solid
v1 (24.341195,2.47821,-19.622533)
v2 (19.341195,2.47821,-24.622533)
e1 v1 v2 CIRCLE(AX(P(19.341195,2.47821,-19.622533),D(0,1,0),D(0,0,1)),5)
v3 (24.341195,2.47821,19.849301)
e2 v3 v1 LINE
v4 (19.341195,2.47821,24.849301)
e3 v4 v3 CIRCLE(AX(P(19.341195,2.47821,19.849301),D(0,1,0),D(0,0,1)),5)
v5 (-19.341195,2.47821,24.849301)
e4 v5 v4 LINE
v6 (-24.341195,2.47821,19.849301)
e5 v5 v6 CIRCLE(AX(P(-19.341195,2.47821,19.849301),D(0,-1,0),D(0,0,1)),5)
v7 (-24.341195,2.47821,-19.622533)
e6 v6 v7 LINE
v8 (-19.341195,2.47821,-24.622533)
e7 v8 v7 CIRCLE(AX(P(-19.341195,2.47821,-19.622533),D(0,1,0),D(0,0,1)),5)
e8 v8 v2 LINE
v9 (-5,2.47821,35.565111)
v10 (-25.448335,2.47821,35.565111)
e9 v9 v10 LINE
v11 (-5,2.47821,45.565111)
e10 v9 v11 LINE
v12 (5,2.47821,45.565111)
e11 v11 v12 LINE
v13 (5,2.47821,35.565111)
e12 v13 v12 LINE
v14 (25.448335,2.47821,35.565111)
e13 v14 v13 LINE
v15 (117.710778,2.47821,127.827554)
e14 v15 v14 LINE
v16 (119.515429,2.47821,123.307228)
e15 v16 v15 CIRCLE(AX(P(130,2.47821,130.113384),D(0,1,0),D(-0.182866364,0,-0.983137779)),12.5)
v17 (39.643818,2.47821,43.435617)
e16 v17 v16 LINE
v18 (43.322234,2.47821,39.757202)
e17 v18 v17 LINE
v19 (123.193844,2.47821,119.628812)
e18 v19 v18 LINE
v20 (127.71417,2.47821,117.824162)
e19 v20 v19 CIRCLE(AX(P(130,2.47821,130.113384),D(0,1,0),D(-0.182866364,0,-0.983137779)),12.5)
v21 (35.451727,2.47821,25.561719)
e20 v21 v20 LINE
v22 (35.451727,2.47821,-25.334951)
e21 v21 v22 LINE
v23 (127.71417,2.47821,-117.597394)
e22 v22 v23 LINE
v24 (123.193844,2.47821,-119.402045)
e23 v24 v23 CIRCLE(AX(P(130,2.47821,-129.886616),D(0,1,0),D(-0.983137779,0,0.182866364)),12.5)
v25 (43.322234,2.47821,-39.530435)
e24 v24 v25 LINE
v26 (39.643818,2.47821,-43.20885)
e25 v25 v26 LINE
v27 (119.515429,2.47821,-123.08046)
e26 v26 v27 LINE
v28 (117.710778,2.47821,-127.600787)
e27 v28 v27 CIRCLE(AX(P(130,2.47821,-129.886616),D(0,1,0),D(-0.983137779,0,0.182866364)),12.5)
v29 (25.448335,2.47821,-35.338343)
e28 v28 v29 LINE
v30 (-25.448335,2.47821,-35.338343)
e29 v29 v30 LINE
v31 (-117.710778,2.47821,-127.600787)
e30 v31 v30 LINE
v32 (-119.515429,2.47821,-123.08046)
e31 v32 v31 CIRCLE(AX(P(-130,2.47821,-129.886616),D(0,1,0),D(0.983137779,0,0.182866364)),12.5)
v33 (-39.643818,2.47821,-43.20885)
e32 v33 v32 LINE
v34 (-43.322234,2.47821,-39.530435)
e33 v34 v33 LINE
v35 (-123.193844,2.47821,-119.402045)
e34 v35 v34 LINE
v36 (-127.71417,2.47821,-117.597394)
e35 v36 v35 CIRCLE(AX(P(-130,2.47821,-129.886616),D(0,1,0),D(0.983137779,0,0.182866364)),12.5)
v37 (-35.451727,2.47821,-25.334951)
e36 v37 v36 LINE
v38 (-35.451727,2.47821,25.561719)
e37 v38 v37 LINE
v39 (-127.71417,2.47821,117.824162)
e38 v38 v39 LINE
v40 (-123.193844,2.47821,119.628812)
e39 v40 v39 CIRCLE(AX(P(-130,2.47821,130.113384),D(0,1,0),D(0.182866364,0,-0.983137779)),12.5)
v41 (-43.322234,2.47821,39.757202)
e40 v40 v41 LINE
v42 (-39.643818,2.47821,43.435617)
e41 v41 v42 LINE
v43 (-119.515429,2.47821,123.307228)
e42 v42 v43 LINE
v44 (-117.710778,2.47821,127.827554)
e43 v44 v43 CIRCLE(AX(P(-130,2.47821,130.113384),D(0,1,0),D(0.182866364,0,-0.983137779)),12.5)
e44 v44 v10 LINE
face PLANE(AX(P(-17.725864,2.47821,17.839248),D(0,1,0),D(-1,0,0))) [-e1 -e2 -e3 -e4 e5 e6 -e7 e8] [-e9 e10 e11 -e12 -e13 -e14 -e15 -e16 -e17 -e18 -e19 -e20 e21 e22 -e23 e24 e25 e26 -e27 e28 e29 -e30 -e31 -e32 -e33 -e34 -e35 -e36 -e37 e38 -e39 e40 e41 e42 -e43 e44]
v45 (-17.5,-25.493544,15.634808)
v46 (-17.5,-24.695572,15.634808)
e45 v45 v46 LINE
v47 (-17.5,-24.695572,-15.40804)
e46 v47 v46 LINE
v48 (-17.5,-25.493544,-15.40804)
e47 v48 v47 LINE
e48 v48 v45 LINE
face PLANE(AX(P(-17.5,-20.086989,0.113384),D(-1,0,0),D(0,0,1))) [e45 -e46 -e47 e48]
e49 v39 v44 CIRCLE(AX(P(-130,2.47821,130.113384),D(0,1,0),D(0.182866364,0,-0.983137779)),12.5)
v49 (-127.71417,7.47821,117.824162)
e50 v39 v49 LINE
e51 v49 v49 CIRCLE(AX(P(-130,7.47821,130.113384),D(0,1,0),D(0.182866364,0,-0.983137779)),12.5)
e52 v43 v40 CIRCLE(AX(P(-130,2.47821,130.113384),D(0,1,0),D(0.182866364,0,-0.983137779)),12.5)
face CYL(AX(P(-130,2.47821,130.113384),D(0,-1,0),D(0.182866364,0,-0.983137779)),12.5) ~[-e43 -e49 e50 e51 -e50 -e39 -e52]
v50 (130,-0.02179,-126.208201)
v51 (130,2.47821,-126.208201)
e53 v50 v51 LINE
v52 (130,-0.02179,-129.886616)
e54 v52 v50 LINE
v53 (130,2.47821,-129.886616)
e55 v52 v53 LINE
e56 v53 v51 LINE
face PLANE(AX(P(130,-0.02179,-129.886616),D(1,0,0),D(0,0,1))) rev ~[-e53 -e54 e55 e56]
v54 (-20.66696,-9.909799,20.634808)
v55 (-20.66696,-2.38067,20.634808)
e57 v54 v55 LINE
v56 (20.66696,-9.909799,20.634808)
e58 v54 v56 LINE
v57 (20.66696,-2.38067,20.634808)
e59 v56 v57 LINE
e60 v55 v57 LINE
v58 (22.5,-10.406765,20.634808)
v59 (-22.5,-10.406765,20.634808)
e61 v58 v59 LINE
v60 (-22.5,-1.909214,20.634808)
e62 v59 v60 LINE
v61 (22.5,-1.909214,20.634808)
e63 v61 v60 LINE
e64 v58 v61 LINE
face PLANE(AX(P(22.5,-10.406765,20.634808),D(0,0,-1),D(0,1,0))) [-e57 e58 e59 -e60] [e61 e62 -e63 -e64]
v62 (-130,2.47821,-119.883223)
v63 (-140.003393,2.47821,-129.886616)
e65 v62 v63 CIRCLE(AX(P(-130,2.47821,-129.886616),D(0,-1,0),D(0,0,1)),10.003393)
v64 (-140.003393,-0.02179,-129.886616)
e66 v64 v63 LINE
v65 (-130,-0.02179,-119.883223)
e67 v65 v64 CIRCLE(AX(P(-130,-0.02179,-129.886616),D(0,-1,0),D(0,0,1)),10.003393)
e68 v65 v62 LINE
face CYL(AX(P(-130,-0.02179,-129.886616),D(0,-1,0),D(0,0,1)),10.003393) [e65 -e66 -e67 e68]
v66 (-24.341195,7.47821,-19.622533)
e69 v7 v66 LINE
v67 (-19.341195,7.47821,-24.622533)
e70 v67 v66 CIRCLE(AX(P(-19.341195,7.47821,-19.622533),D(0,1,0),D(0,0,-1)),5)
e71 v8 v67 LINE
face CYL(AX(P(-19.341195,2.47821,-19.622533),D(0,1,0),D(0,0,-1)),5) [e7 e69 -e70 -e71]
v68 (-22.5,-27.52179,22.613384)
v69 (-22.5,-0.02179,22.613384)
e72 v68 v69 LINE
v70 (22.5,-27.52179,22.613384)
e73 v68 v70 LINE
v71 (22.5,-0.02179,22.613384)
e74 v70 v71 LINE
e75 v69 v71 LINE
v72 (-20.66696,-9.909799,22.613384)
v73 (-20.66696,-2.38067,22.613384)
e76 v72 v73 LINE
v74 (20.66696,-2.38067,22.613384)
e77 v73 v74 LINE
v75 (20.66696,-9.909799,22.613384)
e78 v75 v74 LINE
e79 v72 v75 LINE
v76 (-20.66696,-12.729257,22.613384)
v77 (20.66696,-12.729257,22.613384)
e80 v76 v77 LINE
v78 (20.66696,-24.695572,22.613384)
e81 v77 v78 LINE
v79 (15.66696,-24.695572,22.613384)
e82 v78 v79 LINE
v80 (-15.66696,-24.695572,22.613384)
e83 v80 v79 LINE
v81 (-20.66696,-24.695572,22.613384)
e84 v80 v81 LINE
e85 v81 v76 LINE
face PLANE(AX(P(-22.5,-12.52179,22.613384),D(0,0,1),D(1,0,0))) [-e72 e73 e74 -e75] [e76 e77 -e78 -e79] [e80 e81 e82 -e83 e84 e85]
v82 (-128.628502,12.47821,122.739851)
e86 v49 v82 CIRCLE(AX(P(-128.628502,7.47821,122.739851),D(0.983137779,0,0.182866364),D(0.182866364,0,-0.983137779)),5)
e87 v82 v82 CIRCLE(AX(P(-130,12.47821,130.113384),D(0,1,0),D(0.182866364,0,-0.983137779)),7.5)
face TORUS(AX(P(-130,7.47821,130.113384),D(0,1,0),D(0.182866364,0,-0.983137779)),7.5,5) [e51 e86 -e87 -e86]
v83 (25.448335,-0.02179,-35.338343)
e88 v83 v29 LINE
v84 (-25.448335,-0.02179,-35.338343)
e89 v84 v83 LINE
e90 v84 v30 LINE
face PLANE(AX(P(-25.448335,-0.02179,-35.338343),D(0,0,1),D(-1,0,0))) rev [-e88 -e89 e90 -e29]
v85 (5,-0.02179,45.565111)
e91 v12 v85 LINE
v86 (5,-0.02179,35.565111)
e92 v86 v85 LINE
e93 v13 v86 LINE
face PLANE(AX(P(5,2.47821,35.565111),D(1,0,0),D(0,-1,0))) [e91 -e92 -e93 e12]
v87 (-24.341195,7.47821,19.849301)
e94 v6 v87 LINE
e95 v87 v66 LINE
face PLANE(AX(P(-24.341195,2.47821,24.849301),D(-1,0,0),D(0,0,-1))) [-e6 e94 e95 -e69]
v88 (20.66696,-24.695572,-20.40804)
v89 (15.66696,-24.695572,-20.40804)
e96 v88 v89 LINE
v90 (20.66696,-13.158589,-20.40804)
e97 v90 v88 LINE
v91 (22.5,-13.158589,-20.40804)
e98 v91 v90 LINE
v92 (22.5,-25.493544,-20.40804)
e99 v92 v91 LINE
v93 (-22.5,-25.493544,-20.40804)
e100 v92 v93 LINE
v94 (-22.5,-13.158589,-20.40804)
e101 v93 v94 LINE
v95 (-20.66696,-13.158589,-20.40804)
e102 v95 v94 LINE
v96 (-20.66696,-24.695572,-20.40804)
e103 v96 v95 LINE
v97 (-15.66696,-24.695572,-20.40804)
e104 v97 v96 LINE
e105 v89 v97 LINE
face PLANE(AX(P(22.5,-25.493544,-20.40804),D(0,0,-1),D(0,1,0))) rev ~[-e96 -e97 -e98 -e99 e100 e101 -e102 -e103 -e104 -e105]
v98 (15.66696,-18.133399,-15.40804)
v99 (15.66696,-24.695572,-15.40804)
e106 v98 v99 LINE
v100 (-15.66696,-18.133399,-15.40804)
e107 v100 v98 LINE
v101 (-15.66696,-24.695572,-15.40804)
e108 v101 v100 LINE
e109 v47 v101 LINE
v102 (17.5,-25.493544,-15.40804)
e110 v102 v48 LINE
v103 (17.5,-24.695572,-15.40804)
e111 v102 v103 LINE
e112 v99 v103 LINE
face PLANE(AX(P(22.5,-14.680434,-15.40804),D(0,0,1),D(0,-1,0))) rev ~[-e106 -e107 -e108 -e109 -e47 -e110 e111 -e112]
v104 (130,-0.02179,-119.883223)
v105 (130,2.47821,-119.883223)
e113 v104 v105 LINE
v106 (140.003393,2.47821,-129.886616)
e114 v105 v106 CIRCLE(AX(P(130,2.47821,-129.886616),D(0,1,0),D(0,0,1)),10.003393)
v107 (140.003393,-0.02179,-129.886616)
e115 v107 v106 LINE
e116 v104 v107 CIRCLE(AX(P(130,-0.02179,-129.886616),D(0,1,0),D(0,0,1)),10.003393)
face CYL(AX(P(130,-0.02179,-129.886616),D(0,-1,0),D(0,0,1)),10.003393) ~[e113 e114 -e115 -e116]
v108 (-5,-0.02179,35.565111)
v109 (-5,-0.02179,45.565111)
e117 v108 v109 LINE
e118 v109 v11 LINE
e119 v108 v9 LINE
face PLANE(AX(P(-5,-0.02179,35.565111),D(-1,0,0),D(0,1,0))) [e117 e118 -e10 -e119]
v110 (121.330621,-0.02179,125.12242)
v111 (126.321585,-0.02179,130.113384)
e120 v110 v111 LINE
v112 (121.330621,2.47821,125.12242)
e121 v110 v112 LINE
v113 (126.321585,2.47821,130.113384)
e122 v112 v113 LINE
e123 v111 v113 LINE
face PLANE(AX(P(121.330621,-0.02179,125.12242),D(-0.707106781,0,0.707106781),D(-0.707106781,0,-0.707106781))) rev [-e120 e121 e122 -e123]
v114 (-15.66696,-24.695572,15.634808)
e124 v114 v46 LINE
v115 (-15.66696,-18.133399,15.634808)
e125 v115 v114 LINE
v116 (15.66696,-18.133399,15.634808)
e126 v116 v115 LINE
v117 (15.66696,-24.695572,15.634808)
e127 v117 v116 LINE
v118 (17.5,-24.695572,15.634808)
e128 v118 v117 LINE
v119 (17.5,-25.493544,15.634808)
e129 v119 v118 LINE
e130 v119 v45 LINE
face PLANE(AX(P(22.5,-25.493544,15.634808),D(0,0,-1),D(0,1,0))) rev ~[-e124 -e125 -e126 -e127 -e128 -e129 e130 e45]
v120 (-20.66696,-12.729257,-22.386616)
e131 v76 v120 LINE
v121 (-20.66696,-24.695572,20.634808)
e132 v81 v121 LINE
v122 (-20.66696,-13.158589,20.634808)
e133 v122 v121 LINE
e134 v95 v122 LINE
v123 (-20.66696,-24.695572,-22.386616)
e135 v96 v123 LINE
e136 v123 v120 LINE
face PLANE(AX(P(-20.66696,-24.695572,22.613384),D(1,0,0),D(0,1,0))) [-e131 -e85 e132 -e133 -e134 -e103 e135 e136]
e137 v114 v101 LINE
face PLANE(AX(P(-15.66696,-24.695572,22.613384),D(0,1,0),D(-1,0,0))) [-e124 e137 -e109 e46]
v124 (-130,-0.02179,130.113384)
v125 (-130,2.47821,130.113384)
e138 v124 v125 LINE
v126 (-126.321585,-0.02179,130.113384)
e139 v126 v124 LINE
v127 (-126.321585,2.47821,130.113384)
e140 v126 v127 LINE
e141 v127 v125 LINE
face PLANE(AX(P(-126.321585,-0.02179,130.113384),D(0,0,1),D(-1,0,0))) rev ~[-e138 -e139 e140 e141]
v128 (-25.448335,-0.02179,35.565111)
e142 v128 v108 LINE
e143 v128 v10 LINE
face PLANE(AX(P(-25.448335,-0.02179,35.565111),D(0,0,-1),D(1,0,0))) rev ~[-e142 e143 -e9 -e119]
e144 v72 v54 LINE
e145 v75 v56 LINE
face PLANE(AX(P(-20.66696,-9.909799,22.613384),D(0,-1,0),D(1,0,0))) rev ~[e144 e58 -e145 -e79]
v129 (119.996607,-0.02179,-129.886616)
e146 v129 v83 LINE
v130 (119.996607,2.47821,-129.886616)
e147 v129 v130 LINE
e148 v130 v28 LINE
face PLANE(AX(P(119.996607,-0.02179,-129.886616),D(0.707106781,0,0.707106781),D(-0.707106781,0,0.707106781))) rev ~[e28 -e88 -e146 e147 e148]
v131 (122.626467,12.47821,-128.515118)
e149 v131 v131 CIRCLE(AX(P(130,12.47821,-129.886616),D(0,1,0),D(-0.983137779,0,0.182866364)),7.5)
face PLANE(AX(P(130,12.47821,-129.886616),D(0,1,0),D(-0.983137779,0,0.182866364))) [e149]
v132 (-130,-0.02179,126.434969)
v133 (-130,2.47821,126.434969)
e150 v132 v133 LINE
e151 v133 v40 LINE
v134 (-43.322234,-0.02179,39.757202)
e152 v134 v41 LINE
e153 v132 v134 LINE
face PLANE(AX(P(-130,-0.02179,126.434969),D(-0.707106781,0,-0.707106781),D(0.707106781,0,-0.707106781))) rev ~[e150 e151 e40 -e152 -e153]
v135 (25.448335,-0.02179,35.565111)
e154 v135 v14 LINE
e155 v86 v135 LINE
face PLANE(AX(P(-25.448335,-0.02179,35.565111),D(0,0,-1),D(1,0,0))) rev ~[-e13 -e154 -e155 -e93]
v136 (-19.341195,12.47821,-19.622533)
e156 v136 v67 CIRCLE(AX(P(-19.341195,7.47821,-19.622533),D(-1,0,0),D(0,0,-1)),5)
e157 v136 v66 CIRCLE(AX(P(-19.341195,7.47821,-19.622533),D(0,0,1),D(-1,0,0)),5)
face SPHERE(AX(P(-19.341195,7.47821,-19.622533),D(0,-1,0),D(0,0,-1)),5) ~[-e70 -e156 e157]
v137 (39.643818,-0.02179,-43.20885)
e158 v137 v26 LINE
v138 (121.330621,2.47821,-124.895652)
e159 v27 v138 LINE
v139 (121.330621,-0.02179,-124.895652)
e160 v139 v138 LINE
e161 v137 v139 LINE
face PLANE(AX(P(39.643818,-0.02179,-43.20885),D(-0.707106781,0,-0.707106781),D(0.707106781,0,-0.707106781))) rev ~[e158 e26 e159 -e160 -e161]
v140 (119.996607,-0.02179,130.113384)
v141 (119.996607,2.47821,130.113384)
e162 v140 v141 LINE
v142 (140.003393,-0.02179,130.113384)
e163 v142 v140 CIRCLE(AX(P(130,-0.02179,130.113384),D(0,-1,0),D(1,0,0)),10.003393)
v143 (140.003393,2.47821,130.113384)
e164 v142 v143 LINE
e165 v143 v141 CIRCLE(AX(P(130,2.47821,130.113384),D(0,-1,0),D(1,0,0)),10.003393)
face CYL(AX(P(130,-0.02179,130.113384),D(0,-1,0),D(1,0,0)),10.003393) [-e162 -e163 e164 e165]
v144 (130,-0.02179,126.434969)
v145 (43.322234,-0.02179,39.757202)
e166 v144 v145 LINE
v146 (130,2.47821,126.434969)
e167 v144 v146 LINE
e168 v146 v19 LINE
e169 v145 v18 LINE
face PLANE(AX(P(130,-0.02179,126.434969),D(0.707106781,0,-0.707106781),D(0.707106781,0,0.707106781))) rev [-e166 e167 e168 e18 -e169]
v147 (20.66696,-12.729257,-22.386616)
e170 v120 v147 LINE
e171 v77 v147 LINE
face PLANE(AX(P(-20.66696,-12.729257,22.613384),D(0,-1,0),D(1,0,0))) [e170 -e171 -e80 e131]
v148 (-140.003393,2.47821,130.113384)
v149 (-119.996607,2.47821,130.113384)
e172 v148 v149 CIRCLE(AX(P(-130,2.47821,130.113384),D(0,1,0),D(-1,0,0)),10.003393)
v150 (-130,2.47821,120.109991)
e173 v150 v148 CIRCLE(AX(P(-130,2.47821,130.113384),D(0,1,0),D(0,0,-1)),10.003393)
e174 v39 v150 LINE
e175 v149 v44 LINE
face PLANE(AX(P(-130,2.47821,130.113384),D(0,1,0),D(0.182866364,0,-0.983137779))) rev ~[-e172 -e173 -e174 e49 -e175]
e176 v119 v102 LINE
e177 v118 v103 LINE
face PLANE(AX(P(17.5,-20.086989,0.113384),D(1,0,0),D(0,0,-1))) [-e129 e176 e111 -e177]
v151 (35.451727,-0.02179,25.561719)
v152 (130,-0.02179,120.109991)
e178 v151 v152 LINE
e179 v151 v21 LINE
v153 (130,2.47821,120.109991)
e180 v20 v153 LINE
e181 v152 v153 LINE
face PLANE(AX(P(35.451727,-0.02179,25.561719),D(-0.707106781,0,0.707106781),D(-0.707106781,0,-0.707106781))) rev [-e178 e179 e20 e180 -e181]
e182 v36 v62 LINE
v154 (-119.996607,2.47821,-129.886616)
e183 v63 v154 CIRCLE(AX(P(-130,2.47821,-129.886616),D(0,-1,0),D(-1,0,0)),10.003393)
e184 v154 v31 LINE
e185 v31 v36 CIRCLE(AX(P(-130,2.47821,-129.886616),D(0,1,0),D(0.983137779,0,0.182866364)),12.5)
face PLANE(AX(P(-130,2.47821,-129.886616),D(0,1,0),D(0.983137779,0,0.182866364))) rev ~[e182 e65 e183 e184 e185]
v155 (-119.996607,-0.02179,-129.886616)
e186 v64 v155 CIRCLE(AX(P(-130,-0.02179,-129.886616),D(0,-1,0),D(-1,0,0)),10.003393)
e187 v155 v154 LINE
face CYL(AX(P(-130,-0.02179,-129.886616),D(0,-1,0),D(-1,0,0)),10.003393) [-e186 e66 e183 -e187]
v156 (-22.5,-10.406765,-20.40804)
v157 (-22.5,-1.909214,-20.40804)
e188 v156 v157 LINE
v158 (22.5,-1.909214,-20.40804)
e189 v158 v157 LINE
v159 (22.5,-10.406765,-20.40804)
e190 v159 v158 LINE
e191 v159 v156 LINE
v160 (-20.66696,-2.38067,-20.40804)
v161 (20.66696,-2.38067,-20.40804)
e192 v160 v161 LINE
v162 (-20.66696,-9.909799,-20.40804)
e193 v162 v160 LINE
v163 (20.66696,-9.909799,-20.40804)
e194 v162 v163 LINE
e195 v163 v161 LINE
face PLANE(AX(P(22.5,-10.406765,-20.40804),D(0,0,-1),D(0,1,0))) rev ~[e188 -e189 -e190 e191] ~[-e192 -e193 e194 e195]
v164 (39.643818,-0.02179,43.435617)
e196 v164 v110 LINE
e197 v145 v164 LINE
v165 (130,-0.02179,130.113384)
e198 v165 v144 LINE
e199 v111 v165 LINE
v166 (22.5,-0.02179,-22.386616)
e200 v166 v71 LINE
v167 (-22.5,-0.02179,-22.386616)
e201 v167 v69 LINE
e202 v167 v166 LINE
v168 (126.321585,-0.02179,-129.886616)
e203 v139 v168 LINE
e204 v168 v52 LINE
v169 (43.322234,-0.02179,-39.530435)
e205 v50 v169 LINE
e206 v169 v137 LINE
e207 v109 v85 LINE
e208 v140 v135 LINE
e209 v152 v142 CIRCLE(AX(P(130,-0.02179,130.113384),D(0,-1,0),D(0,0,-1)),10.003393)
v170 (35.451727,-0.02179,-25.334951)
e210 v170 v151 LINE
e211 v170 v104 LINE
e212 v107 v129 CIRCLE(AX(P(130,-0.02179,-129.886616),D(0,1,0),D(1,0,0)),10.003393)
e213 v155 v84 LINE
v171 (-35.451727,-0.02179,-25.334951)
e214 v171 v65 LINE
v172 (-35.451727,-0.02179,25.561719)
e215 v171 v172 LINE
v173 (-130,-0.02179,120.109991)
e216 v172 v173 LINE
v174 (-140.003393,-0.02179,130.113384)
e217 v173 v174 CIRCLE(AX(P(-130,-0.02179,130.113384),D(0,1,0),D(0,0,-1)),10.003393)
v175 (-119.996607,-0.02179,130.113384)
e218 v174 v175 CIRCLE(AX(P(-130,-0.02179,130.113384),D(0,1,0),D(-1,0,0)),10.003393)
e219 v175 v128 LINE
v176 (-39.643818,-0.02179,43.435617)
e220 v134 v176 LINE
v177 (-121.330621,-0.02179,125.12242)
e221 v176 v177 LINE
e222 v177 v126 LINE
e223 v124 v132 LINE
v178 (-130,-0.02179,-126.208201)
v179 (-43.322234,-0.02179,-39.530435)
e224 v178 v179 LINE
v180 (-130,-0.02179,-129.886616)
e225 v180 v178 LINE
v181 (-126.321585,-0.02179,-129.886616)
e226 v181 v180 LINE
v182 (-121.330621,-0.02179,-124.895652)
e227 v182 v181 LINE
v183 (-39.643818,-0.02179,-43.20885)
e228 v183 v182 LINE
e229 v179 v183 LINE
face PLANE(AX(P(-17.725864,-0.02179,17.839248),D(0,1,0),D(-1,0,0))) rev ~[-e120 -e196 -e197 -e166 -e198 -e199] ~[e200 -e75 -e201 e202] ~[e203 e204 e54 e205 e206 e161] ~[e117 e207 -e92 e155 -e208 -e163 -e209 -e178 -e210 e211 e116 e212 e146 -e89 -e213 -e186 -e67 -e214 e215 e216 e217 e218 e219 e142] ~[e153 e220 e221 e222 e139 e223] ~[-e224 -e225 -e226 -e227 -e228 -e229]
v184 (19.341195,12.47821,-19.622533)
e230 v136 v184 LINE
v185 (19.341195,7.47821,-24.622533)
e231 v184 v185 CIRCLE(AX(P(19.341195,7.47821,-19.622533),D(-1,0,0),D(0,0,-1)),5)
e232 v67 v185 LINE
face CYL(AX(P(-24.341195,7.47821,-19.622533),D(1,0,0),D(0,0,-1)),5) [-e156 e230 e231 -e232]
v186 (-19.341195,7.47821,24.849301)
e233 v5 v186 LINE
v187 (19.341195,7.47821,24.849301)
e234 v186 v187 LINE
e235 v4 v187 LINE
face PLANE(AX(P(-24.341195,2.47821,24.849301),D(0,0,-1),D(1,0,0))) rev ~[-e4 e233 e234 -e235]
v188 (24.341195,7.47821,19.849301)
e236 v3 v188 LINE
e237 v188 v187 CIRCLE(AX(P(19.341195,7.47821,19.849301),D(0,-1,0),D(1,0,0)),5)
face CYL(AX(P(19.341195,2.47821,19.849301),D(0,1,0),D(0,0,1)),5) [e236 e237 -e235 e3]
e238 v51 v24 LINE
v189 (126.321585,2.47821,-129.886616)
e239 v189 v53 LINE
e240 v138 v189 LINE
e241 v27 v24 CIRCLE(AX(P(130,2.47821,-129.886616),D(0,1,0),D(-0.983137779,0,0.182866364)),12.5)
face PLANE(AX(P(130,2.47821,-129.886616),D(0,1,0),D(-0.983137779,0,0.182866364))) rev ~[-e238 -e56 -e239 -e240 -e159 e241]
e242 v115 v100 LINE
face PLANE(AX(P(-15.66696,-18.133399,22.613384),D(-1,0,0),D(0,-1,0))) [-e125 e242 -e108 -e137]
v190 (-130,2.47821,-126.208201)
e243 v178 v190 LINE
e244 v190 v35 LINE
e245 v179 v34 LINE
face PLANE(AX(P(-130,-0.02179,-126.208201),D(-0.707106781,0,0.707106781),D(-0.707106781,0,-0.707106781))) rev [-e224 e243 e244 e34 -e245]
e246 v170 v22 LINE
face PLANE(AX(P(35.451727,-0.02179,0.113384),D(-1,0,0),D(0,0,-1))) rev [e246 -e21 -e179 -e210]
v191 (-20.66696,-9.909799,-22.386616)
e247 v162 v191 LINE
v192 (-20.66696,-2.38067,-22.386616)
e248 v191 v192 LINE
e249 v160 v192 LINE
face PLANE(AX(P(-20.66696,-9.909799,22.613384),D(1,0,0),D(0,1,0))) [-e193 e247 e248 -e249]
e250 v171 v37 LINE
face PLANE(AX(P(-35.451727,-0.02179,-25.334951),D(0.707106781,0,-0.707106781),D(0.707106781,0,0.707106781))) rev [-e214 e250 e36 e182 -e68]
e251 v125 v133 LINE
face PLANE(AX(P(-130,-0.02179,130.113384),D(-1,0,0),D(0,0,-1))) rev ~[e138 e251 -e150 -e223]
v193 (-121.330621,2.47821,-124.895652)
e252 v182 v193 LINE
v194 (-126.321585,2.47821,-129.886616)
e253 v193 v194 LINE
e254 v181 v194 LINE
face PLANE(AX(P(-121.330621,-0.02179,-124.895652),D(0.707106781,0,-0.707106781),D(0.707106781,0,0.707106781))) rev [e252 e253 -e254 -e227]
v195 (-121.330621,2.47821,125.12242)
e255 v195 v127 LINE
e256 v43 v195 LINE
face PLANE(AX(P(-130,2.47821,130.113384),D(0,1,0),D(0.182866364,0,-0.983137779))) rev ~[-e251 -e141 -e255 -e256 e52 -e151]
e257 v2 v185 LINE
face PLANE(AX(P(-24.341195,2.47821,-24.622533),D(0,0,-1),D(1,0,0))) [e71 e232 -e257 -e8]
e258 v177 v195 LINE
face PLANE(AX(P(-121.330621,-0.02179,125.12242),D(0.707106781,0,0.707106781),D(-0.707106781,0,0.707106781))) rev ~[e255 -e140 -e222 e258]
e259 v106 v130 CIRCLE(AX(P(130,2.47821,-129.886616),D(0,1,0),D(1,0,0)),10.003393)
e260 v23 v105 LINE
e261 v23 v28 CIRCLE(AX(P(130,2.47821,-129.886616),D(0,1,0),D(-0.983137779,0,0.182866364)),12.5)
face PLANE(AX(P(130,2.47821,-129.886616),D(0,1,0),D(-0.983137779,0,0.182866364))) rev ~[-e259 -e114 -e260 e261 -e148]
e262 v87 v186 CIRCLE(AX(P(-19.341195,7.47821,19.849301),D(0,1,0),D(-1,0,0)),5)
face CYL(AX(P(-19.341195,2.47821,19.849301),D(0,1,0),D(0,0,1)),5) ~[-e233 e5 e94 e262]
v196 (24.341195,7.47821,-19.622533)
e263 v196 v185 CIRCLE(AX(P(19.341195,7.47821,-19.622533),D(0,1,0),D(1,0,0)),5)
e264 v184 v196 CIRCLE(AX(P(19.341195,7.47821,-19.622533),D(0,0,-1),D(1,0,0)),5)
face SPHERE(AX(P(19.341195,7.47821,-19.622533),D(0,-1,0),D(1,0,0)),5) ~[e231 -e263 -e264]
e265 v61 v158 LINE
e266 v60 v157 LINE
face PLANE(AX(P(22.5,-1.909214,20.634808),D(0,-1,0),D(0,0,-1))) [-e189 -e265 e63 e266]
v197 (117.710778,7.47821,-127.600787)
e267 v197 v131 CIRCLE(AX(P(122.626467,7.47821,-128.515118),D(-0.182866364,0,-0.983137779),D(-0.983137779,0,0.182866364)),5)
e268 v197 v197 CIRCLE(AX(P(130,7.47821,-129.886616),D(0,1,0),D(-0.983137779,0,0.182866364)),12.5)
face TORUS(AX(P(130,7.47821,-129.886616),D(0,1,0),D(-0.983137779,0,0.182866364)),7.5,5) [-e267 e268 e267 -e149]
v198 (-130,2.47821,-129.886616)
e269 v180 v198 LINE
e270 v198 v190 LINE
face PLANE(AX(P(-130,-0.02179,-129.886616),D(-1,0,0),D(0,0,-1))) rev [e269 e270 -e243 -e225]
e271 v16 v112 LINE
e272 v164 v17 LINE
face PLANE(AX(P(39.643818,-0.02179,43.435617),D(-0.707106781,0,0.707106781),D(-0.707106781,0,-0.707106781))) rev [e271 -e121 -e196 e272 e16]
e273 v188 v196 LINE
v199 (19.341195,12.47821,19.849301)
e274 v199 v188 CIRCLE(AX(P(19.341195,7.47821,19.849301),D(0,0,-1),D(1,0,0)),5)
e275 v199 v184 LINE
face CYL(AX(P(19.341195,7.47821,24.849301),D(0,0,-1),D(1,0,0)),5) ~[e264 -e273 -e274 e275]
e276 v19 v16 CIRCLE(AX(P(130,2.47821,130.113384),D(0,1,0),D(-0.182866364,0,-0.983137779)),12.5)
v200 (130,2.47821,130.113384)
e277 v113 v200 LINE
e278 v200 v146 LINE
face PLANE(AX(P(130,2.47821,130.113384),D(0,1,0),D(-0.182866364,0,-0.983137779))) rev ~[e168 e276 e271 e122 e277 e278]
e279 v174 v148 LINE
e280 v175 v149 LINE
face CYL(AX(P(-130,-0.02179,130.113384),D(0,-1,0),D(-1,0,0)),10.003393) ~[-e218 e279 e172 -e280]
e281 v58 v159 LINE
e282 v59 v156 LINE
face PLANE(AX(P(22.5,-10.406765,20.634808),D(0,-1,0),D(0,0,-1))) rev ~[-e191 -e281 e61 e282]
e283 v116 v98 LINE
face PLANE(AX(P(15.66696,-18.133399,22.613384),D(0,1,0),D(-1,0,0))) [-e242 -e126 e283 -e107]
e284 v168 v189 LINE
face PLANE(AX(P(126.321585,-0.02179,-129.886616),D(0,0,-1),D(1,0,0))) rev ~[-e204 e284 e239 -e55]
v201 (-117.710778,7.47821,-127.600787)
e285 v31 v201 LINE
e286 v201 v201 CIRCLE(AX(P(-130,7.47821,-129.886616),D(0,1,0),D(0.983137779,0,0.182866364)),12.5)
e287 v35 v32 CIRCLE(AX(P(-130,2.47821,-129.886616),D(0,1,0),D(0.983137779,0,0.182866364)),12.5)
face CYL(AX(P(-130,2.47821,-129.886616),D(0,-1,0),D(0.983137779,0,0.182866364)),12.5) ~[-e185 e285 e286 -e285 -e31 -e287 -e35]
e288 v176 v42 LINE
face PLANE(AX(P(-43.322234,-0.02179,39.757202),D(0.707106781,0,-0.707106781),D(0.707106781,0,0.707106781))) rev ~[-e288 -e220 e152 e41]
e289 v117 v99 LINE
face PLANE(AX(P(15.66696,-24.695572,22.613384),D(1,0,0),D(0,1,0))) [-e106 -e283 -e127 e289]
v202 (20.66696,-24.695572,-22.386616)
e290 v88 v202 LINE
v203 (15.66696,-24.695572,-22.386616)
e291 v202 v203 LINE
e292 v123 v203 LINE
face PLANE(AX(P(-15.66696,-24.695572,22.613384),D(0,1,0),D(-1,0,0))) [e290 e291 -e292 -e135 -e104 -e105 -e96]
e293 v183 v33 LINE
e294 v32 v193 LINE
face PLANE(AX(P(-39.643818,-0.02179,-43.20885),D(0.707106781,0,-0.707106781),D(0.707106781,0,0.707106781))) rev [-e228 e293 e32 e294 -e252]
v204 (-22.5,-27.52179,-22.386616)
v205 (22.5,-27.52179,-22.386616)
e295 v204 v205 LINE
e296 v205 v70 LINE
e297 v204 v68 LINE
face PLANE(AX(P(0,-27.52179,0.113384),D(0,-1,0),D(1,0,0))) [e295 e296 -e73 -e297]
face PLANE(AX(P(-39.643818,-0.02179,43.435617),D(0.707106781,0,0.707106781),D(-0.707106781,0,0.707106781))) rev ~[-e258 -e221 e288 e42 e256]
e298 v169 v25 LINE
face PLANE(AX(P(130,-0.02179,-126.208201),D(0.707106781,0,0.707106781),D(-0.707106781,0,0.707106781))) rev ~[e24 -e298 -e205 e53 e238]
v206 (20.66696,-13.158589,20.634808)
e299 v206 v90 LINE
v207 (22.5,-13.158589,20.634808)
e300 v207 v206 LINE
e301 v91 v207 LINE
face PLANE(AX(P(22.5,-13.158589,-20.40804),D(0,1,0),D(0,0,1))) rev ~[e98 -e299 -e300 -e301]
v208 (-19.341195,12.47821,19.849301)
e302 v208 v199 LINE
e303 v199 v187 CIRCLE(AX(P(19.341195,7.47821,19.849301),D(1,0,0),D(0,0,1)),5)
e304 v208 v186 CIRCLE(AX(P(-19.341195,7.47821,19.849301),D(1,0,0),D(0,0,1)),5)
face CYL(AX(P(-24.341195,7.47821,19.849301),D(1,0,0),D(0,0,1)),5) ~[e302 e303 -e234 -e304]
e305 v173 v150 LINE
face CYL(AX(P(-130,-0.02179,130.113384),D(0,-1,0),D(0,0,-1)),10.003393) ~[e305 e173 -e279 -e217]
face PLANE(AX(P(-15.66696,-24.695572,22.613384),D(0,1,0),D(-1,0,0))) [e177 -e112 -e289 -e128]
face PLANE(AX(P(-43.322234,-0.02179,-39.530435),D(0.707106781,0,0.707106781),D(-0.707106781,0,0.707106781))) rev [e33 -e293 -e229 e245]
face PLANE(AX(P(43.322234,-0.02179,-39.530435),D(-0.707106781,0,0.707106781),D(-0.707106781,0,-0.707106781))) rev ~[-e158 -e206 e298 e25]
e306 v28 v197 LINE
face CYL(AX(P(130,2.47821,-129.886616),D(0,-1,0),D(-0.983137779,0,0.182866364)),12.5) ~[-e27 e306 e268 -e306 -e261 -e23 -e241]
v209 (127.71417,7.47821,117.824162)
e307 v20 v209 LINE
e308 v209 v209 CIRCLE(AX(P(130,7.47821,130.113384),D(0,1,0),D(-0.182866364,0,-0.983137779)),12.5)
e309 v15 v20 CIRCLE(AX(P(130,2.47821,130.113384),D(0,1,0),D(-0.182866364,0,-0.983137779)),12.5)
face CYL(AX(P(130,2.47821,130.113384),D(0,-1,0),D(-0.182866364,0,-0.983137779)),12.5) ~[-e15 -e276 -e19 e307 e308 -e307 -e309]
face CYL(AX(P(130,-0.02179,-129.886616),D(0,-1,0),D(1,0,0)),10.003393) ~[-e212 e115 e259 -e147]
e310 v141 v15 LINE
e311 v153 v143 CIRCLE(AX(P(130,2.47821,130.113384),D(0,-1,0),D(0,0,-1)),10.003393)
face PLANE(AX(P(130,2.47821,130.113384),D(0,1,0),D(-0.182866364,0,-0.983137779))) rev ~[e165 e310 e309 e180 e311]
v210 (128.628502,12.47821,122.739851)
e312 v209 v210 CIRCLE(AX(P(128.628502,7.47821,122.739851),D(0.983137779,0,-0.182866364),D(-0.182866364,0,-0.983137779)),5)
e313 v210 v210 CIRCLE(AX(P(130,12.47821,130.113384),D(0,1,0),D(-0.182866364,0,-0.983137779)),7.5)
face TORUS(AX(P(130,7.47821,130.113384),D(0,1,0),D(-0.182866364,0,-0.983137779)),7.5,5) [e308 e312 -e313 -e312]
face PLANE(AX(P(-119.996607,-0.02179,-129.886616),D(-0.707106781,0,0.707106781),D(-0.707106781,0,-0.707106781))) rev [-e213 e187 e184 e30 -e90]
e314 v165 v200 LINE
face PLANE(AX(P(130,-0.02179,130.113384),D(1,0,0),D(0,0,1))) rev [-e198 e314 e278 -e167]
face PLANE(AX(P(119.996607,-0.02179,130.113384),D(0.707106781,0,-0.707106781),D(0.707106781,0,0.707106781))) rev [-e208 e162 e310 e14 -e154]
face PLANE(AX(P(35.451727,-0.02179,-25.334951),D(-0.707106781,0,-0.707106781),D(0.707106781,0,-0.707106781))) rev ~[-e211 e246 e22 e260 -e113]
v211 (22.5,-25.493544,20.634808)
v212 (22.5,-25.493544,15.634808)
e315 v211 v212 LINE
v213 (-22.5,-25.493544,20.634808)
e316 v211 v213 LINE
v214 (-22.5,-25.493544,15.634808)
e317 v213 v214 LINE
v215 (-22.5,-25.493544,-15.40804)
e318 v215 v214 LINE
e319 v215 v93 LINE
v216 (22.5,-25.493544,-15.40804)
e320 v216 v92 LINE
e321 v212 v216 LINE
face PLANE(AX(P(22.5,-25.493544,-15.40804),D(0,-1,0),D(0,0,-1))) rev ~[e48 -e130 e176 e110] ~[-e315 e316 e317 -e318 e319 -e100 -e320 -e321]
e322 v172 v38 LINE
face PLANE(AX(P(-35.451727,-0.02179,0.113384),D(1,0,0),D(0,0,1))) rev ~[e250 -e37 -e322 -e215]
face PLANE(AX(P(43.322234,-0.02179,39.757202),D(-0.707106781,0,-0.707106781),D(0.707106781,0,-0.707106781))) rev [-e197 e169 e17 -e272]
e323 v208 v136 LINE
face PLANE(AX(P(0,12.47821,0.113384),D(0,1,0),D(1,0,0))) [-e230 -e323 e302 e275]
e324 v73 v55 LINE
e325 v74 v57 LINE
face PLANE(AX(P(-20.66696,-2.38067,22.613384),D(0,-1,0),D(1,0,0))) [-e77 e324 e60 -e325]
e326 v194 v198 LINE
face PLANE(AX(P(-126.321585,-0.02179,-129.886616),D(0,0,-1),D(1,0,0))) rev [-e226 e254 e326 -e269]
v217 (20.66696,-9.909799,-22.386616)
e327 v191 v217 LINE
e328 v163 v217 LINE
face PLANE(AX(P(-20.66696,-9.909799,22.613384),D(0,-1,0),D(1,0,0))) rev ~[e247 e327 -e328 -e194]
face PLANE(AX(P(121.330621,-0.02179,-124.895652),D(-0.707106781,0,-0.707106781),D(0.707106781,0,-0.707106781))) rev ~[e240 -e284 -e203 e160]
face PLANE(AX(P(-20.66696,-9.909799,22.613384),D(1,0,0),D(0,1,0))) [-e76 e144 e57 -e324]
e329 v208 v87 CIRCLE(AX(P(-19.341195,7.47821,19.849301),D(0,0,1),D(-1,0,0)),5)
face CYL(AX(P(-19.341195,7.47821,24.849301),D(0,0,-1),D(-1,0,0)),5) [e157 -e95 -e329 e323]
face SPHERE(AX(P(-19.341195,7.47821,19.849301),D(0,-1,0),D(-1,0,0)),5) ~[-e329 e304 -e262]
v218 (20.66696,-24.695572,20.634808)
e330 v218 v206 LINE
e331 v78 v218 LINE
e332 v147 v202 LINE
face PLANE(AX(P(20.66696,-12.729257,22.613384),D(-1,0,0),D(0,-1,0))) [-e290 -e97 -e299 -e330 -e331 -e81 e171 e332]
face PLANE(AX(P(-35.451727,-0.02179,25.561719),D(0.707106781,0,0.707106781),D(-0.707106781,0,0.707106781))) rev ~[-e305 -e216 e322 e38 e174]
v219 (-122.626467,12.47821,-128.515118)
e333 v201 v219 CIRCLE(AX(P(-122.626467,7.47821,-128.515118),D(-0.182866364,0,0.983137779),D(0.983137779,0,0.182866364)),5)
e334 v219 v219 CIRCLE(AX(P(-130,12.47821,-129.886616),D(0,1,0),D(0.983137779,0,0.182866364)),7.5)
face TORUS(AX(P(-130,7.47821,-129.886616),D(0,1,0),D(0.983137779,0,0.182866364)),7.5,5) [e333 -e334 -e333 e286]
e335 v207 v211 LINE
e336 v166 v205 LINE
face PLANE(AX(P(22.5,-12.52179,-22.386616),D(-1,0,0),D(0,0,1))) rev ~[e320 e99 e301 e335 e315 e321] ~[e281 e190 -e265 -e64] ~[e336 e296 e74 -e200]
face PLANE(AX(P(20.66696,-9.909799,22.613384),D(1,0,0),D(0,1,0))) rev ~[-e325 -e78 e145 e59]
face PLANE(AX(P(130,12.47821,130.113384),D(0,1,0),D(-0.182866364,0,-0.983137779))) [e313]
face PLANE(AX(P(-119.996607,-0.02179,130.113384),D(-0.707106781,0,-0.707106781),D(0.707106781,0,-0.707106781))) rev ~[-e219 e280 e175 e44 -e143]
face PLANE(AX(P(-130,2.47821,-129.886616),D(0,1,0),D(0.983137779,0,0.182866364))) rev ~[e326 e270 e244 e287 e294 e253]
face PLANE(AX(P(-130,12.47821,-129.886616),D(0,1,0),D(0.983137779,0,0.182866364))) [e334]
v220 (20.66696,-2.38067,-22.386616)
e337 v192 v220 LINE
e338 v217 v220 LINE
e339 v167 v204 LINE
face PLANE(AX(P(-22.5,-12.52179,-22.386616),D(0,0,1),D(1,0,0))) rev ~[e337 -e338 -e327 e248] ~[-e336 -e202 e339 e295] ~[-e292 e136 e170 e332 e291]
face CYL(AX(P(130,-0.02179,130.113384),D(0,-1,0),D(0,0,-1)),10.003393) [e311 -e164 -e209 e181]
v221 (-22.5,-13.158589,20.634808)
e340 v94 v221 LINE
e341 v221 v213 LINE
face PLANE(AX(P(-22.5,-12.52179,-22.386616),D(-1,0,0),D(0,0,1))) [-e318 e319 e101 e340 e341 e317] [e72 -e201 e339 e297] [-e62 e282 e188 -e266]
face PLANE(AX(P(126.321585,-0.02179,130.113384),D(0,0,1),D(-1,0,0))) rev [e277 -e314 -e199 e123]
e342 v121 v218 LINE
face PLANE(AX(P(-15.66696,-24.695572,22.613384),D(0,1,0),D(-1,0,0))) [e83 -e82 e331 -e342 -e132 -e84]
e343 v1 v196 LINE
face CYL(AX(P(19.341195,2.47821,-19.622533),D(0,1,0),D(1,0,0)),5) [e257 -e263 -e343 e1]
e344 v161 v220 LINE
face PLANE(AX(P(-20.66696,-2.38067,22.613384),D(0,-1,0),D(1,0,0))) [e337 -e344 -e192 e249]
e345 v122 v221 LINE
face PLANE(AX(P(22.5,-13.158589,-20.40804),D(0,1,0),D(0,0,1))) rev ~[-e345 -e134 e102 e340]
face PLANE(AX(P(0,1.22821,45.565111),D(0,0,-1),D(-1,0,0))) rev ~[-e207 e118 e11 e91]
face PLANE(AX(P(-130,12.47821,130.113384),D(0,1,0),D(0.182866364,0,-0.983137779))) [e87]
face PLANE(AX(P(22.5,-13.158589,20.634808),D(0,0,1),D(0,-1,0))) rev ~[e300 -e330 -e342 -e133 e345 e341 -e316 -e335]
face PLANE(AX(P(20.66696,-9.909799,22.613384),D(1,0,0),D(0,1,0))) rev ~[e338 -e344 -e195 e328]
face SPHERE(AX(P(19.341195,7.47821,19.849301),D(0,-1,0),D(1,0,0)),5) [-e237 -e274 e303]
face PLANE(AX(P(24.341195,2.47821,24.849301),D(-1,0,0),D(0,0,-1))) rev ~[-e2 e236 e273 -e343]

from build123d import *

# Parameters (mm, degrees)
EXTRUDE_1_DEPTH     = 5
SKETCH_2_W          = 90
SKETCH_2_H          = 90
EXTRUDE_2_DEPTH     = 25
SKETCH_3_W          = 82.667839838
SKETCH_3_H          = 15.058257345
CUT_EXTRUDE_1_DEPTH = 90
SKETCH_4_W          = 82.085695662
SKETCH_4_H          = 16.995101666
CUT_EXTRUDE_2_DEPTH = 90
SKETCH_5_W          = 97.364780094
SKETCH_5_H          = 98.94366842
EXTRUDE_3_DEPTH     = 20
FILLET_1_R          = 10
SKETCH_6_W          = 90
SKETCH_6_H          = 90
EXTRUDE_4_DEPTH     = 30
CUT_EXTRUDE_3_DEPTH = 90
SKETCH_8_W          = 62.667839838
SKETCH_8_H          = 13.124346315
CUT_EXTRUDE_4_DEPTH = 10
CUT_EXTRUDE_5_DEPTH = 90
SKETCH_10_W         = 62.085695662
SKETCH_10_H         = 21.626220655
CUT_EXTRUDE_6_DEPTH = 10
SKETCH_11_W         = 62.667839838
SKETCH_11_H         = 13.124346315
CUT_EXTRUDE_7_DEPTH = 10
SKETCH_12_W         = 62.085695662
SKETCH_12_H         = 21.626220655
CUT_EXTRUDE_8_DEPTH = 10
EXTRUDE_5_DEPTH     = 20
SKETCH_14_R         = 25
EXTRUDE_6_DEPTH     = 20
FILLET_2_R          = 10
SCALE_1_SCALE       = 0.5


with BuildPart() as part:
    # 草图1 → 凸台-拉伸1 (new body)
    with BuildSketch(Plane(origin=(0, 0, 0), x_dir=(1, 0, 0), z_dir=(0, 1, 0))):
        Polygon((0, 70.903454713), (0, 0), (70.90345471, 0), (70.90345471, 50.896669322), (70.90345471, 63.546624398), (70.90345471, 70.903454713), (63.546624395, 70.903454713), (50.896669319, 70.903454713), align=None)
        Polygon((72.962659229, 92.969444623), (50.896669319, 70.903454713), (63.546624395, 70.903454713), (79.287636767, 86.644467085), align=None)
        Polygon((70.90345471, 70.903454713), (70.90345471, 63.546624398), (86.644467082, 79.28763677), (79.287636767, 86.644467085), (63.546624395, 70.903454713), align=None)
        Polygon((70.90345471, 63.546624398), (70.90345471, 50.896669322), (92.96944462, 72.962659232), (86.644467082, 79.28763677), align=None)
        with BuildLine():
            ThreePointArc((242.661241038, 250.018071355), (240.67172678, 254.833829646), (239.993214606, 260))
            Line((239.993214606, 260), (72.962659229, 92.969444623))
            Line((72.962659229, 92.969444623), (79.287636767, 86.644467085))
            Line((79.287636767, 86.644467085), (242.661241038, 250.018071355))
        make_face()
        with BuildLine():
            Line((92.96944462, 72.962659232), (260, 239.993214612))
            ThreePointArc((260, 239.993214606), (254.833829644, 240.67172678), (250.018071352, 242.66124104))
            Line((250.018071352, 242.66124104), (86.644467082, 79.28763677))
            Line((86.644467082, 79.28763677), (92.96944462, 72.962659232))
        make_face()
        with BuildLine():
            Line((260, 252.643169688), (260, 239.993214612))
            ThreePointArc((260, 239.993214606), (274.146933622, 245.853066378), (280.006785394, 260))
            ThreePointArc((280.006785394, 260), (260, 280.006785394), (239.993214606, 260))
            Line((239.993214606, 260), (252.643169682, 260))
            Line((252.643169682, 260), (260, 260))
            Line((260, 260), (260, 252.643169688))
        make_face()
        with BuildLine():
            Line((252.643169682, 260), (239.993214606, 260))
            ThreePointArc((239.993214606, 260), (240.67172678, 254.833829646), (242.661241038, 250.018071355))
            Line((242.661241038, 250.018071355), (252.643169682, 260))
        make_face()
        with BuildLine():
            ThreePointArc((250.018071352, 242.66124104), (254.833829644, 240.67172678), (260, 239.993214606))
            Line((260, 239.993214612), (260, 252.643169688))
            Line((260, 252.643169688), (250.018071352, 242.66124104))
        make_face()
    extrude_1 = extrude(amount=EXTRUDE_1_DEPTH)

    # 镜向1: 凸台-拉伸1 across plane
    add(extrude_1.mirror(Plane(origin=(0, 5, 0), x_dir=(0, 0, 1), z_dir=(1, 0, 0))))

    # 镜向3: part across plane


with BuildPart() as part_1:
    add(part.part)
    add(part.part.mirror(Plane(origin=(0, 5, 0), x_dir=(1, 0, 0), z_dir=(0, 0, -1))))

    # 草图2 → 凸台-拉伸2 (add)
    with BuildSketch(Plane.XZ):
        Rectangle(SKETCH_2_W, SKETCH_2_H)
    extrude(amount=EXTRUDE_2_DEPTH)

    # 草图3 → 切除-拉伸1 (cut)
    with BuildSketch(Plane.XY.offset(45)):
        with Locations((0, -12.246888496)):
            Rectangle(SKETCH_3_W, SKETCH_3_H)
    extrude(amount=-CUT_EXTRUDE_1_DEPTH, mode=Mode.SUBTRACT)

    # 草图4 → 切除-拉伸2 (cut)
    with BuildSketch(Plane(origin=(45, 0, 0), x_dir=(0, 0, -1), z_dir=(1, 0, 0))):
        with Locations((0, -12.272398252)):
            Rectangle(SKETCH_4_W, SKETCH_4_H)
    extrude(amount=-CUT_EXTRUDE_2_DEPTH, mode=Mode.SUBTRACT)

    # 草图5 → 凸台-拉伸3 (add)
    with BuildSketch(Plane(origin=(0, 5, 0), x_dir=(1, 0, 0), z_dir=(0, 1, 0))):
        Rectangle(SKETCH_5_W, SKETCH_5_H)
    extrude(amount=EXTRUDE_3_DEPTH)

    # 圆角1
    fillet_1_edges = [part_1.edges().sort_by_distance(p)[0] for p in [
        (48.682390047, 15, 49.47183421),
        (48.682390047, 15, -49.47183421),
        (-48.682390047, 15, -49.47183421),
        (-48.682390047, 15, 49.47183421),
        (48.682390047, 25, 0),
        (0, 25, -49.47183421),
        (-48.682390047, 25, 0),
        (0, 25, 49.47183421),
    ]]
    fillet(fillet_1_edges, radius=FILLET_1_R)

    # 草图6 → 凸台-拉伸4 (add)
    with BuildSketch(Plane.XZ.offset(25)):
        Rectangle(SKETCH_6_W, SKETCH_6_H)
    extrude(amount=EXTRUDE_4_DEPTH)

    # 草图7 → 切除-拉伸3 (cut)
    with BuildSketch(Plane.XY.offset(45)):
        Polygon((-41.333919919, -25.414932676), (41.333919919, -25.414932676), (41.333919919, -49.347564191), (31.333919919, -49.347564191), (31.333919919, -36.223217876), (-31.333919919, -36.223217876), (-31.333919919, -49.347564191), (-41.333919919, -49.347564191), align=None)
    extrude(amount=-CUT_EXTRUDE_3_DEPTH, mode=Mode.SUBTRACT)

    # 草图8 → 切除-拉伸4 (cut)
    with BuildSketch(Plane.XY.offset(45)):
        with Locations((0, -42.785391034)):
            Rectangle(SKETCH_8_W, SKETCH_8_H)
    extrude(amount=-CUT_EXTRUDE_4_DEPTH, mode=Mode.SUBTRACT)

    # 草图9 → 切除-拉伸5 (cut)
    with BuildSketch(Plane(origin=(45, 0, 0), x_dir=(0, 0, -1), z_dir=(1, 0, 0))):
        Polygon((-41.042847831, -26.273596919), (-41.042847831, -50.943507888), (-31.042847831, -50.943507888), (-31.042847831, -29.317287233), (31.042847831, -29.317287233), (31.042847831, -50.943507888), (41.042847831, -50.943507888), (41.042847831, -26.273596919), align=None)
    extrude(amount=-CUT_EXTRUDE_5_DEPTH, mode=Mode.SUBTRACT)

    # 草图10 → 切除-拉伸6 (cut)
    with BuildSketch(Plane(origin=(45, 0, 0), x_dir=(0, 0, -1), z_dir=(1, 0, 0))):
        with Locations((0, -40.130397561)):
            Rectangle(SKETCH_10_W, SKETCH_10_H)
    extrude(amount=-CUT_EXTRUDE_6_DEPTH, mode=Mode.SUBTRACT)

    # 草图11 → 切除-拉伸7 (cut)
    with BuildSketch(Plane(origin=(0, 0, -45), x_dir=(-1, 0, 0), z_dir=(0, 0, -1))):
        with Locations((0, -42.785391034)):
            Rectangle(SKETCH_11_W, SKETCH_11_H)
    extrude(amount=-CUT_EXTRUDE_7_DEPTH, mode=Mode.SUBTRACT)

    # 草图12 → 切除-拉伸8 (cut)
    with BuildSketch(Plane.ZY.offset(45)):
        with Locations((0, -40.130397561)):
            Rectangle(SKETCH_12_W, SKETCH_12_H)
    extrude(amount=-CUT_EXTRUDE_8_DEPTH, mode=Mode.SUBTRACT)

    # 草图13 → 凸台-拉伸5 (add)
    with BuildSketch(Plane.XY.offset(70.903454713)):
        Polygon((0, 0), (-10, 0), (-10, 5), (10, 5), (10, 0), align=None)
    extrude(amount=EXTRUDE_5_DEPTH)

    # 草图14 → 凸台-拉伸6 (add)
    with BuildSketch(Plane(origin=(0, 5, 0), x_dir=(1, 0, 0), z_dir=(0, 1, 0))):
        with Locations(Location((-260, 260, 0), (0, 0, 349.463237906))):
            Circle(SKETCH_14_R)
        with Locations(Location((260, 260, 0), (0, 0, 190.536762094))):
            Circle(SKETCH_14_R)
        with Locations(Location((-260, -260, 0), (0, 0, 79.463237895))):
            Circle(SKETCH_14_R)
        with Locations(Location((260, -260, 0), (0, 0, 100.536762105))):
            Circle(SKETCH_14_R)
    extrude(amount=EXTRUDE_6_DEPTH)

    # 圆角2
    fillet_2_edges = [part_1.edges().sort_by_distance(p)[0] for p in [
        (-284.578444482, 25, -264.571659088),
        (284.578444482, 25, -264.571659088),
        (-264.571659093, 25, 284.578444482),
        (264.571659093, 25, 284.578444482),
    ]]
    fillet(fillet_2_edges, radius=FILLET_2_R)


with BuildPart() as part_2:
    # 缩放比例1: scaled about (0, -0.043580376, 0.226767714)
    add(part_1.part.scale(SCALE_1_SCALE).moved(Location((0, -0.021790188, 0.113383857))))


solid = part_2.part
